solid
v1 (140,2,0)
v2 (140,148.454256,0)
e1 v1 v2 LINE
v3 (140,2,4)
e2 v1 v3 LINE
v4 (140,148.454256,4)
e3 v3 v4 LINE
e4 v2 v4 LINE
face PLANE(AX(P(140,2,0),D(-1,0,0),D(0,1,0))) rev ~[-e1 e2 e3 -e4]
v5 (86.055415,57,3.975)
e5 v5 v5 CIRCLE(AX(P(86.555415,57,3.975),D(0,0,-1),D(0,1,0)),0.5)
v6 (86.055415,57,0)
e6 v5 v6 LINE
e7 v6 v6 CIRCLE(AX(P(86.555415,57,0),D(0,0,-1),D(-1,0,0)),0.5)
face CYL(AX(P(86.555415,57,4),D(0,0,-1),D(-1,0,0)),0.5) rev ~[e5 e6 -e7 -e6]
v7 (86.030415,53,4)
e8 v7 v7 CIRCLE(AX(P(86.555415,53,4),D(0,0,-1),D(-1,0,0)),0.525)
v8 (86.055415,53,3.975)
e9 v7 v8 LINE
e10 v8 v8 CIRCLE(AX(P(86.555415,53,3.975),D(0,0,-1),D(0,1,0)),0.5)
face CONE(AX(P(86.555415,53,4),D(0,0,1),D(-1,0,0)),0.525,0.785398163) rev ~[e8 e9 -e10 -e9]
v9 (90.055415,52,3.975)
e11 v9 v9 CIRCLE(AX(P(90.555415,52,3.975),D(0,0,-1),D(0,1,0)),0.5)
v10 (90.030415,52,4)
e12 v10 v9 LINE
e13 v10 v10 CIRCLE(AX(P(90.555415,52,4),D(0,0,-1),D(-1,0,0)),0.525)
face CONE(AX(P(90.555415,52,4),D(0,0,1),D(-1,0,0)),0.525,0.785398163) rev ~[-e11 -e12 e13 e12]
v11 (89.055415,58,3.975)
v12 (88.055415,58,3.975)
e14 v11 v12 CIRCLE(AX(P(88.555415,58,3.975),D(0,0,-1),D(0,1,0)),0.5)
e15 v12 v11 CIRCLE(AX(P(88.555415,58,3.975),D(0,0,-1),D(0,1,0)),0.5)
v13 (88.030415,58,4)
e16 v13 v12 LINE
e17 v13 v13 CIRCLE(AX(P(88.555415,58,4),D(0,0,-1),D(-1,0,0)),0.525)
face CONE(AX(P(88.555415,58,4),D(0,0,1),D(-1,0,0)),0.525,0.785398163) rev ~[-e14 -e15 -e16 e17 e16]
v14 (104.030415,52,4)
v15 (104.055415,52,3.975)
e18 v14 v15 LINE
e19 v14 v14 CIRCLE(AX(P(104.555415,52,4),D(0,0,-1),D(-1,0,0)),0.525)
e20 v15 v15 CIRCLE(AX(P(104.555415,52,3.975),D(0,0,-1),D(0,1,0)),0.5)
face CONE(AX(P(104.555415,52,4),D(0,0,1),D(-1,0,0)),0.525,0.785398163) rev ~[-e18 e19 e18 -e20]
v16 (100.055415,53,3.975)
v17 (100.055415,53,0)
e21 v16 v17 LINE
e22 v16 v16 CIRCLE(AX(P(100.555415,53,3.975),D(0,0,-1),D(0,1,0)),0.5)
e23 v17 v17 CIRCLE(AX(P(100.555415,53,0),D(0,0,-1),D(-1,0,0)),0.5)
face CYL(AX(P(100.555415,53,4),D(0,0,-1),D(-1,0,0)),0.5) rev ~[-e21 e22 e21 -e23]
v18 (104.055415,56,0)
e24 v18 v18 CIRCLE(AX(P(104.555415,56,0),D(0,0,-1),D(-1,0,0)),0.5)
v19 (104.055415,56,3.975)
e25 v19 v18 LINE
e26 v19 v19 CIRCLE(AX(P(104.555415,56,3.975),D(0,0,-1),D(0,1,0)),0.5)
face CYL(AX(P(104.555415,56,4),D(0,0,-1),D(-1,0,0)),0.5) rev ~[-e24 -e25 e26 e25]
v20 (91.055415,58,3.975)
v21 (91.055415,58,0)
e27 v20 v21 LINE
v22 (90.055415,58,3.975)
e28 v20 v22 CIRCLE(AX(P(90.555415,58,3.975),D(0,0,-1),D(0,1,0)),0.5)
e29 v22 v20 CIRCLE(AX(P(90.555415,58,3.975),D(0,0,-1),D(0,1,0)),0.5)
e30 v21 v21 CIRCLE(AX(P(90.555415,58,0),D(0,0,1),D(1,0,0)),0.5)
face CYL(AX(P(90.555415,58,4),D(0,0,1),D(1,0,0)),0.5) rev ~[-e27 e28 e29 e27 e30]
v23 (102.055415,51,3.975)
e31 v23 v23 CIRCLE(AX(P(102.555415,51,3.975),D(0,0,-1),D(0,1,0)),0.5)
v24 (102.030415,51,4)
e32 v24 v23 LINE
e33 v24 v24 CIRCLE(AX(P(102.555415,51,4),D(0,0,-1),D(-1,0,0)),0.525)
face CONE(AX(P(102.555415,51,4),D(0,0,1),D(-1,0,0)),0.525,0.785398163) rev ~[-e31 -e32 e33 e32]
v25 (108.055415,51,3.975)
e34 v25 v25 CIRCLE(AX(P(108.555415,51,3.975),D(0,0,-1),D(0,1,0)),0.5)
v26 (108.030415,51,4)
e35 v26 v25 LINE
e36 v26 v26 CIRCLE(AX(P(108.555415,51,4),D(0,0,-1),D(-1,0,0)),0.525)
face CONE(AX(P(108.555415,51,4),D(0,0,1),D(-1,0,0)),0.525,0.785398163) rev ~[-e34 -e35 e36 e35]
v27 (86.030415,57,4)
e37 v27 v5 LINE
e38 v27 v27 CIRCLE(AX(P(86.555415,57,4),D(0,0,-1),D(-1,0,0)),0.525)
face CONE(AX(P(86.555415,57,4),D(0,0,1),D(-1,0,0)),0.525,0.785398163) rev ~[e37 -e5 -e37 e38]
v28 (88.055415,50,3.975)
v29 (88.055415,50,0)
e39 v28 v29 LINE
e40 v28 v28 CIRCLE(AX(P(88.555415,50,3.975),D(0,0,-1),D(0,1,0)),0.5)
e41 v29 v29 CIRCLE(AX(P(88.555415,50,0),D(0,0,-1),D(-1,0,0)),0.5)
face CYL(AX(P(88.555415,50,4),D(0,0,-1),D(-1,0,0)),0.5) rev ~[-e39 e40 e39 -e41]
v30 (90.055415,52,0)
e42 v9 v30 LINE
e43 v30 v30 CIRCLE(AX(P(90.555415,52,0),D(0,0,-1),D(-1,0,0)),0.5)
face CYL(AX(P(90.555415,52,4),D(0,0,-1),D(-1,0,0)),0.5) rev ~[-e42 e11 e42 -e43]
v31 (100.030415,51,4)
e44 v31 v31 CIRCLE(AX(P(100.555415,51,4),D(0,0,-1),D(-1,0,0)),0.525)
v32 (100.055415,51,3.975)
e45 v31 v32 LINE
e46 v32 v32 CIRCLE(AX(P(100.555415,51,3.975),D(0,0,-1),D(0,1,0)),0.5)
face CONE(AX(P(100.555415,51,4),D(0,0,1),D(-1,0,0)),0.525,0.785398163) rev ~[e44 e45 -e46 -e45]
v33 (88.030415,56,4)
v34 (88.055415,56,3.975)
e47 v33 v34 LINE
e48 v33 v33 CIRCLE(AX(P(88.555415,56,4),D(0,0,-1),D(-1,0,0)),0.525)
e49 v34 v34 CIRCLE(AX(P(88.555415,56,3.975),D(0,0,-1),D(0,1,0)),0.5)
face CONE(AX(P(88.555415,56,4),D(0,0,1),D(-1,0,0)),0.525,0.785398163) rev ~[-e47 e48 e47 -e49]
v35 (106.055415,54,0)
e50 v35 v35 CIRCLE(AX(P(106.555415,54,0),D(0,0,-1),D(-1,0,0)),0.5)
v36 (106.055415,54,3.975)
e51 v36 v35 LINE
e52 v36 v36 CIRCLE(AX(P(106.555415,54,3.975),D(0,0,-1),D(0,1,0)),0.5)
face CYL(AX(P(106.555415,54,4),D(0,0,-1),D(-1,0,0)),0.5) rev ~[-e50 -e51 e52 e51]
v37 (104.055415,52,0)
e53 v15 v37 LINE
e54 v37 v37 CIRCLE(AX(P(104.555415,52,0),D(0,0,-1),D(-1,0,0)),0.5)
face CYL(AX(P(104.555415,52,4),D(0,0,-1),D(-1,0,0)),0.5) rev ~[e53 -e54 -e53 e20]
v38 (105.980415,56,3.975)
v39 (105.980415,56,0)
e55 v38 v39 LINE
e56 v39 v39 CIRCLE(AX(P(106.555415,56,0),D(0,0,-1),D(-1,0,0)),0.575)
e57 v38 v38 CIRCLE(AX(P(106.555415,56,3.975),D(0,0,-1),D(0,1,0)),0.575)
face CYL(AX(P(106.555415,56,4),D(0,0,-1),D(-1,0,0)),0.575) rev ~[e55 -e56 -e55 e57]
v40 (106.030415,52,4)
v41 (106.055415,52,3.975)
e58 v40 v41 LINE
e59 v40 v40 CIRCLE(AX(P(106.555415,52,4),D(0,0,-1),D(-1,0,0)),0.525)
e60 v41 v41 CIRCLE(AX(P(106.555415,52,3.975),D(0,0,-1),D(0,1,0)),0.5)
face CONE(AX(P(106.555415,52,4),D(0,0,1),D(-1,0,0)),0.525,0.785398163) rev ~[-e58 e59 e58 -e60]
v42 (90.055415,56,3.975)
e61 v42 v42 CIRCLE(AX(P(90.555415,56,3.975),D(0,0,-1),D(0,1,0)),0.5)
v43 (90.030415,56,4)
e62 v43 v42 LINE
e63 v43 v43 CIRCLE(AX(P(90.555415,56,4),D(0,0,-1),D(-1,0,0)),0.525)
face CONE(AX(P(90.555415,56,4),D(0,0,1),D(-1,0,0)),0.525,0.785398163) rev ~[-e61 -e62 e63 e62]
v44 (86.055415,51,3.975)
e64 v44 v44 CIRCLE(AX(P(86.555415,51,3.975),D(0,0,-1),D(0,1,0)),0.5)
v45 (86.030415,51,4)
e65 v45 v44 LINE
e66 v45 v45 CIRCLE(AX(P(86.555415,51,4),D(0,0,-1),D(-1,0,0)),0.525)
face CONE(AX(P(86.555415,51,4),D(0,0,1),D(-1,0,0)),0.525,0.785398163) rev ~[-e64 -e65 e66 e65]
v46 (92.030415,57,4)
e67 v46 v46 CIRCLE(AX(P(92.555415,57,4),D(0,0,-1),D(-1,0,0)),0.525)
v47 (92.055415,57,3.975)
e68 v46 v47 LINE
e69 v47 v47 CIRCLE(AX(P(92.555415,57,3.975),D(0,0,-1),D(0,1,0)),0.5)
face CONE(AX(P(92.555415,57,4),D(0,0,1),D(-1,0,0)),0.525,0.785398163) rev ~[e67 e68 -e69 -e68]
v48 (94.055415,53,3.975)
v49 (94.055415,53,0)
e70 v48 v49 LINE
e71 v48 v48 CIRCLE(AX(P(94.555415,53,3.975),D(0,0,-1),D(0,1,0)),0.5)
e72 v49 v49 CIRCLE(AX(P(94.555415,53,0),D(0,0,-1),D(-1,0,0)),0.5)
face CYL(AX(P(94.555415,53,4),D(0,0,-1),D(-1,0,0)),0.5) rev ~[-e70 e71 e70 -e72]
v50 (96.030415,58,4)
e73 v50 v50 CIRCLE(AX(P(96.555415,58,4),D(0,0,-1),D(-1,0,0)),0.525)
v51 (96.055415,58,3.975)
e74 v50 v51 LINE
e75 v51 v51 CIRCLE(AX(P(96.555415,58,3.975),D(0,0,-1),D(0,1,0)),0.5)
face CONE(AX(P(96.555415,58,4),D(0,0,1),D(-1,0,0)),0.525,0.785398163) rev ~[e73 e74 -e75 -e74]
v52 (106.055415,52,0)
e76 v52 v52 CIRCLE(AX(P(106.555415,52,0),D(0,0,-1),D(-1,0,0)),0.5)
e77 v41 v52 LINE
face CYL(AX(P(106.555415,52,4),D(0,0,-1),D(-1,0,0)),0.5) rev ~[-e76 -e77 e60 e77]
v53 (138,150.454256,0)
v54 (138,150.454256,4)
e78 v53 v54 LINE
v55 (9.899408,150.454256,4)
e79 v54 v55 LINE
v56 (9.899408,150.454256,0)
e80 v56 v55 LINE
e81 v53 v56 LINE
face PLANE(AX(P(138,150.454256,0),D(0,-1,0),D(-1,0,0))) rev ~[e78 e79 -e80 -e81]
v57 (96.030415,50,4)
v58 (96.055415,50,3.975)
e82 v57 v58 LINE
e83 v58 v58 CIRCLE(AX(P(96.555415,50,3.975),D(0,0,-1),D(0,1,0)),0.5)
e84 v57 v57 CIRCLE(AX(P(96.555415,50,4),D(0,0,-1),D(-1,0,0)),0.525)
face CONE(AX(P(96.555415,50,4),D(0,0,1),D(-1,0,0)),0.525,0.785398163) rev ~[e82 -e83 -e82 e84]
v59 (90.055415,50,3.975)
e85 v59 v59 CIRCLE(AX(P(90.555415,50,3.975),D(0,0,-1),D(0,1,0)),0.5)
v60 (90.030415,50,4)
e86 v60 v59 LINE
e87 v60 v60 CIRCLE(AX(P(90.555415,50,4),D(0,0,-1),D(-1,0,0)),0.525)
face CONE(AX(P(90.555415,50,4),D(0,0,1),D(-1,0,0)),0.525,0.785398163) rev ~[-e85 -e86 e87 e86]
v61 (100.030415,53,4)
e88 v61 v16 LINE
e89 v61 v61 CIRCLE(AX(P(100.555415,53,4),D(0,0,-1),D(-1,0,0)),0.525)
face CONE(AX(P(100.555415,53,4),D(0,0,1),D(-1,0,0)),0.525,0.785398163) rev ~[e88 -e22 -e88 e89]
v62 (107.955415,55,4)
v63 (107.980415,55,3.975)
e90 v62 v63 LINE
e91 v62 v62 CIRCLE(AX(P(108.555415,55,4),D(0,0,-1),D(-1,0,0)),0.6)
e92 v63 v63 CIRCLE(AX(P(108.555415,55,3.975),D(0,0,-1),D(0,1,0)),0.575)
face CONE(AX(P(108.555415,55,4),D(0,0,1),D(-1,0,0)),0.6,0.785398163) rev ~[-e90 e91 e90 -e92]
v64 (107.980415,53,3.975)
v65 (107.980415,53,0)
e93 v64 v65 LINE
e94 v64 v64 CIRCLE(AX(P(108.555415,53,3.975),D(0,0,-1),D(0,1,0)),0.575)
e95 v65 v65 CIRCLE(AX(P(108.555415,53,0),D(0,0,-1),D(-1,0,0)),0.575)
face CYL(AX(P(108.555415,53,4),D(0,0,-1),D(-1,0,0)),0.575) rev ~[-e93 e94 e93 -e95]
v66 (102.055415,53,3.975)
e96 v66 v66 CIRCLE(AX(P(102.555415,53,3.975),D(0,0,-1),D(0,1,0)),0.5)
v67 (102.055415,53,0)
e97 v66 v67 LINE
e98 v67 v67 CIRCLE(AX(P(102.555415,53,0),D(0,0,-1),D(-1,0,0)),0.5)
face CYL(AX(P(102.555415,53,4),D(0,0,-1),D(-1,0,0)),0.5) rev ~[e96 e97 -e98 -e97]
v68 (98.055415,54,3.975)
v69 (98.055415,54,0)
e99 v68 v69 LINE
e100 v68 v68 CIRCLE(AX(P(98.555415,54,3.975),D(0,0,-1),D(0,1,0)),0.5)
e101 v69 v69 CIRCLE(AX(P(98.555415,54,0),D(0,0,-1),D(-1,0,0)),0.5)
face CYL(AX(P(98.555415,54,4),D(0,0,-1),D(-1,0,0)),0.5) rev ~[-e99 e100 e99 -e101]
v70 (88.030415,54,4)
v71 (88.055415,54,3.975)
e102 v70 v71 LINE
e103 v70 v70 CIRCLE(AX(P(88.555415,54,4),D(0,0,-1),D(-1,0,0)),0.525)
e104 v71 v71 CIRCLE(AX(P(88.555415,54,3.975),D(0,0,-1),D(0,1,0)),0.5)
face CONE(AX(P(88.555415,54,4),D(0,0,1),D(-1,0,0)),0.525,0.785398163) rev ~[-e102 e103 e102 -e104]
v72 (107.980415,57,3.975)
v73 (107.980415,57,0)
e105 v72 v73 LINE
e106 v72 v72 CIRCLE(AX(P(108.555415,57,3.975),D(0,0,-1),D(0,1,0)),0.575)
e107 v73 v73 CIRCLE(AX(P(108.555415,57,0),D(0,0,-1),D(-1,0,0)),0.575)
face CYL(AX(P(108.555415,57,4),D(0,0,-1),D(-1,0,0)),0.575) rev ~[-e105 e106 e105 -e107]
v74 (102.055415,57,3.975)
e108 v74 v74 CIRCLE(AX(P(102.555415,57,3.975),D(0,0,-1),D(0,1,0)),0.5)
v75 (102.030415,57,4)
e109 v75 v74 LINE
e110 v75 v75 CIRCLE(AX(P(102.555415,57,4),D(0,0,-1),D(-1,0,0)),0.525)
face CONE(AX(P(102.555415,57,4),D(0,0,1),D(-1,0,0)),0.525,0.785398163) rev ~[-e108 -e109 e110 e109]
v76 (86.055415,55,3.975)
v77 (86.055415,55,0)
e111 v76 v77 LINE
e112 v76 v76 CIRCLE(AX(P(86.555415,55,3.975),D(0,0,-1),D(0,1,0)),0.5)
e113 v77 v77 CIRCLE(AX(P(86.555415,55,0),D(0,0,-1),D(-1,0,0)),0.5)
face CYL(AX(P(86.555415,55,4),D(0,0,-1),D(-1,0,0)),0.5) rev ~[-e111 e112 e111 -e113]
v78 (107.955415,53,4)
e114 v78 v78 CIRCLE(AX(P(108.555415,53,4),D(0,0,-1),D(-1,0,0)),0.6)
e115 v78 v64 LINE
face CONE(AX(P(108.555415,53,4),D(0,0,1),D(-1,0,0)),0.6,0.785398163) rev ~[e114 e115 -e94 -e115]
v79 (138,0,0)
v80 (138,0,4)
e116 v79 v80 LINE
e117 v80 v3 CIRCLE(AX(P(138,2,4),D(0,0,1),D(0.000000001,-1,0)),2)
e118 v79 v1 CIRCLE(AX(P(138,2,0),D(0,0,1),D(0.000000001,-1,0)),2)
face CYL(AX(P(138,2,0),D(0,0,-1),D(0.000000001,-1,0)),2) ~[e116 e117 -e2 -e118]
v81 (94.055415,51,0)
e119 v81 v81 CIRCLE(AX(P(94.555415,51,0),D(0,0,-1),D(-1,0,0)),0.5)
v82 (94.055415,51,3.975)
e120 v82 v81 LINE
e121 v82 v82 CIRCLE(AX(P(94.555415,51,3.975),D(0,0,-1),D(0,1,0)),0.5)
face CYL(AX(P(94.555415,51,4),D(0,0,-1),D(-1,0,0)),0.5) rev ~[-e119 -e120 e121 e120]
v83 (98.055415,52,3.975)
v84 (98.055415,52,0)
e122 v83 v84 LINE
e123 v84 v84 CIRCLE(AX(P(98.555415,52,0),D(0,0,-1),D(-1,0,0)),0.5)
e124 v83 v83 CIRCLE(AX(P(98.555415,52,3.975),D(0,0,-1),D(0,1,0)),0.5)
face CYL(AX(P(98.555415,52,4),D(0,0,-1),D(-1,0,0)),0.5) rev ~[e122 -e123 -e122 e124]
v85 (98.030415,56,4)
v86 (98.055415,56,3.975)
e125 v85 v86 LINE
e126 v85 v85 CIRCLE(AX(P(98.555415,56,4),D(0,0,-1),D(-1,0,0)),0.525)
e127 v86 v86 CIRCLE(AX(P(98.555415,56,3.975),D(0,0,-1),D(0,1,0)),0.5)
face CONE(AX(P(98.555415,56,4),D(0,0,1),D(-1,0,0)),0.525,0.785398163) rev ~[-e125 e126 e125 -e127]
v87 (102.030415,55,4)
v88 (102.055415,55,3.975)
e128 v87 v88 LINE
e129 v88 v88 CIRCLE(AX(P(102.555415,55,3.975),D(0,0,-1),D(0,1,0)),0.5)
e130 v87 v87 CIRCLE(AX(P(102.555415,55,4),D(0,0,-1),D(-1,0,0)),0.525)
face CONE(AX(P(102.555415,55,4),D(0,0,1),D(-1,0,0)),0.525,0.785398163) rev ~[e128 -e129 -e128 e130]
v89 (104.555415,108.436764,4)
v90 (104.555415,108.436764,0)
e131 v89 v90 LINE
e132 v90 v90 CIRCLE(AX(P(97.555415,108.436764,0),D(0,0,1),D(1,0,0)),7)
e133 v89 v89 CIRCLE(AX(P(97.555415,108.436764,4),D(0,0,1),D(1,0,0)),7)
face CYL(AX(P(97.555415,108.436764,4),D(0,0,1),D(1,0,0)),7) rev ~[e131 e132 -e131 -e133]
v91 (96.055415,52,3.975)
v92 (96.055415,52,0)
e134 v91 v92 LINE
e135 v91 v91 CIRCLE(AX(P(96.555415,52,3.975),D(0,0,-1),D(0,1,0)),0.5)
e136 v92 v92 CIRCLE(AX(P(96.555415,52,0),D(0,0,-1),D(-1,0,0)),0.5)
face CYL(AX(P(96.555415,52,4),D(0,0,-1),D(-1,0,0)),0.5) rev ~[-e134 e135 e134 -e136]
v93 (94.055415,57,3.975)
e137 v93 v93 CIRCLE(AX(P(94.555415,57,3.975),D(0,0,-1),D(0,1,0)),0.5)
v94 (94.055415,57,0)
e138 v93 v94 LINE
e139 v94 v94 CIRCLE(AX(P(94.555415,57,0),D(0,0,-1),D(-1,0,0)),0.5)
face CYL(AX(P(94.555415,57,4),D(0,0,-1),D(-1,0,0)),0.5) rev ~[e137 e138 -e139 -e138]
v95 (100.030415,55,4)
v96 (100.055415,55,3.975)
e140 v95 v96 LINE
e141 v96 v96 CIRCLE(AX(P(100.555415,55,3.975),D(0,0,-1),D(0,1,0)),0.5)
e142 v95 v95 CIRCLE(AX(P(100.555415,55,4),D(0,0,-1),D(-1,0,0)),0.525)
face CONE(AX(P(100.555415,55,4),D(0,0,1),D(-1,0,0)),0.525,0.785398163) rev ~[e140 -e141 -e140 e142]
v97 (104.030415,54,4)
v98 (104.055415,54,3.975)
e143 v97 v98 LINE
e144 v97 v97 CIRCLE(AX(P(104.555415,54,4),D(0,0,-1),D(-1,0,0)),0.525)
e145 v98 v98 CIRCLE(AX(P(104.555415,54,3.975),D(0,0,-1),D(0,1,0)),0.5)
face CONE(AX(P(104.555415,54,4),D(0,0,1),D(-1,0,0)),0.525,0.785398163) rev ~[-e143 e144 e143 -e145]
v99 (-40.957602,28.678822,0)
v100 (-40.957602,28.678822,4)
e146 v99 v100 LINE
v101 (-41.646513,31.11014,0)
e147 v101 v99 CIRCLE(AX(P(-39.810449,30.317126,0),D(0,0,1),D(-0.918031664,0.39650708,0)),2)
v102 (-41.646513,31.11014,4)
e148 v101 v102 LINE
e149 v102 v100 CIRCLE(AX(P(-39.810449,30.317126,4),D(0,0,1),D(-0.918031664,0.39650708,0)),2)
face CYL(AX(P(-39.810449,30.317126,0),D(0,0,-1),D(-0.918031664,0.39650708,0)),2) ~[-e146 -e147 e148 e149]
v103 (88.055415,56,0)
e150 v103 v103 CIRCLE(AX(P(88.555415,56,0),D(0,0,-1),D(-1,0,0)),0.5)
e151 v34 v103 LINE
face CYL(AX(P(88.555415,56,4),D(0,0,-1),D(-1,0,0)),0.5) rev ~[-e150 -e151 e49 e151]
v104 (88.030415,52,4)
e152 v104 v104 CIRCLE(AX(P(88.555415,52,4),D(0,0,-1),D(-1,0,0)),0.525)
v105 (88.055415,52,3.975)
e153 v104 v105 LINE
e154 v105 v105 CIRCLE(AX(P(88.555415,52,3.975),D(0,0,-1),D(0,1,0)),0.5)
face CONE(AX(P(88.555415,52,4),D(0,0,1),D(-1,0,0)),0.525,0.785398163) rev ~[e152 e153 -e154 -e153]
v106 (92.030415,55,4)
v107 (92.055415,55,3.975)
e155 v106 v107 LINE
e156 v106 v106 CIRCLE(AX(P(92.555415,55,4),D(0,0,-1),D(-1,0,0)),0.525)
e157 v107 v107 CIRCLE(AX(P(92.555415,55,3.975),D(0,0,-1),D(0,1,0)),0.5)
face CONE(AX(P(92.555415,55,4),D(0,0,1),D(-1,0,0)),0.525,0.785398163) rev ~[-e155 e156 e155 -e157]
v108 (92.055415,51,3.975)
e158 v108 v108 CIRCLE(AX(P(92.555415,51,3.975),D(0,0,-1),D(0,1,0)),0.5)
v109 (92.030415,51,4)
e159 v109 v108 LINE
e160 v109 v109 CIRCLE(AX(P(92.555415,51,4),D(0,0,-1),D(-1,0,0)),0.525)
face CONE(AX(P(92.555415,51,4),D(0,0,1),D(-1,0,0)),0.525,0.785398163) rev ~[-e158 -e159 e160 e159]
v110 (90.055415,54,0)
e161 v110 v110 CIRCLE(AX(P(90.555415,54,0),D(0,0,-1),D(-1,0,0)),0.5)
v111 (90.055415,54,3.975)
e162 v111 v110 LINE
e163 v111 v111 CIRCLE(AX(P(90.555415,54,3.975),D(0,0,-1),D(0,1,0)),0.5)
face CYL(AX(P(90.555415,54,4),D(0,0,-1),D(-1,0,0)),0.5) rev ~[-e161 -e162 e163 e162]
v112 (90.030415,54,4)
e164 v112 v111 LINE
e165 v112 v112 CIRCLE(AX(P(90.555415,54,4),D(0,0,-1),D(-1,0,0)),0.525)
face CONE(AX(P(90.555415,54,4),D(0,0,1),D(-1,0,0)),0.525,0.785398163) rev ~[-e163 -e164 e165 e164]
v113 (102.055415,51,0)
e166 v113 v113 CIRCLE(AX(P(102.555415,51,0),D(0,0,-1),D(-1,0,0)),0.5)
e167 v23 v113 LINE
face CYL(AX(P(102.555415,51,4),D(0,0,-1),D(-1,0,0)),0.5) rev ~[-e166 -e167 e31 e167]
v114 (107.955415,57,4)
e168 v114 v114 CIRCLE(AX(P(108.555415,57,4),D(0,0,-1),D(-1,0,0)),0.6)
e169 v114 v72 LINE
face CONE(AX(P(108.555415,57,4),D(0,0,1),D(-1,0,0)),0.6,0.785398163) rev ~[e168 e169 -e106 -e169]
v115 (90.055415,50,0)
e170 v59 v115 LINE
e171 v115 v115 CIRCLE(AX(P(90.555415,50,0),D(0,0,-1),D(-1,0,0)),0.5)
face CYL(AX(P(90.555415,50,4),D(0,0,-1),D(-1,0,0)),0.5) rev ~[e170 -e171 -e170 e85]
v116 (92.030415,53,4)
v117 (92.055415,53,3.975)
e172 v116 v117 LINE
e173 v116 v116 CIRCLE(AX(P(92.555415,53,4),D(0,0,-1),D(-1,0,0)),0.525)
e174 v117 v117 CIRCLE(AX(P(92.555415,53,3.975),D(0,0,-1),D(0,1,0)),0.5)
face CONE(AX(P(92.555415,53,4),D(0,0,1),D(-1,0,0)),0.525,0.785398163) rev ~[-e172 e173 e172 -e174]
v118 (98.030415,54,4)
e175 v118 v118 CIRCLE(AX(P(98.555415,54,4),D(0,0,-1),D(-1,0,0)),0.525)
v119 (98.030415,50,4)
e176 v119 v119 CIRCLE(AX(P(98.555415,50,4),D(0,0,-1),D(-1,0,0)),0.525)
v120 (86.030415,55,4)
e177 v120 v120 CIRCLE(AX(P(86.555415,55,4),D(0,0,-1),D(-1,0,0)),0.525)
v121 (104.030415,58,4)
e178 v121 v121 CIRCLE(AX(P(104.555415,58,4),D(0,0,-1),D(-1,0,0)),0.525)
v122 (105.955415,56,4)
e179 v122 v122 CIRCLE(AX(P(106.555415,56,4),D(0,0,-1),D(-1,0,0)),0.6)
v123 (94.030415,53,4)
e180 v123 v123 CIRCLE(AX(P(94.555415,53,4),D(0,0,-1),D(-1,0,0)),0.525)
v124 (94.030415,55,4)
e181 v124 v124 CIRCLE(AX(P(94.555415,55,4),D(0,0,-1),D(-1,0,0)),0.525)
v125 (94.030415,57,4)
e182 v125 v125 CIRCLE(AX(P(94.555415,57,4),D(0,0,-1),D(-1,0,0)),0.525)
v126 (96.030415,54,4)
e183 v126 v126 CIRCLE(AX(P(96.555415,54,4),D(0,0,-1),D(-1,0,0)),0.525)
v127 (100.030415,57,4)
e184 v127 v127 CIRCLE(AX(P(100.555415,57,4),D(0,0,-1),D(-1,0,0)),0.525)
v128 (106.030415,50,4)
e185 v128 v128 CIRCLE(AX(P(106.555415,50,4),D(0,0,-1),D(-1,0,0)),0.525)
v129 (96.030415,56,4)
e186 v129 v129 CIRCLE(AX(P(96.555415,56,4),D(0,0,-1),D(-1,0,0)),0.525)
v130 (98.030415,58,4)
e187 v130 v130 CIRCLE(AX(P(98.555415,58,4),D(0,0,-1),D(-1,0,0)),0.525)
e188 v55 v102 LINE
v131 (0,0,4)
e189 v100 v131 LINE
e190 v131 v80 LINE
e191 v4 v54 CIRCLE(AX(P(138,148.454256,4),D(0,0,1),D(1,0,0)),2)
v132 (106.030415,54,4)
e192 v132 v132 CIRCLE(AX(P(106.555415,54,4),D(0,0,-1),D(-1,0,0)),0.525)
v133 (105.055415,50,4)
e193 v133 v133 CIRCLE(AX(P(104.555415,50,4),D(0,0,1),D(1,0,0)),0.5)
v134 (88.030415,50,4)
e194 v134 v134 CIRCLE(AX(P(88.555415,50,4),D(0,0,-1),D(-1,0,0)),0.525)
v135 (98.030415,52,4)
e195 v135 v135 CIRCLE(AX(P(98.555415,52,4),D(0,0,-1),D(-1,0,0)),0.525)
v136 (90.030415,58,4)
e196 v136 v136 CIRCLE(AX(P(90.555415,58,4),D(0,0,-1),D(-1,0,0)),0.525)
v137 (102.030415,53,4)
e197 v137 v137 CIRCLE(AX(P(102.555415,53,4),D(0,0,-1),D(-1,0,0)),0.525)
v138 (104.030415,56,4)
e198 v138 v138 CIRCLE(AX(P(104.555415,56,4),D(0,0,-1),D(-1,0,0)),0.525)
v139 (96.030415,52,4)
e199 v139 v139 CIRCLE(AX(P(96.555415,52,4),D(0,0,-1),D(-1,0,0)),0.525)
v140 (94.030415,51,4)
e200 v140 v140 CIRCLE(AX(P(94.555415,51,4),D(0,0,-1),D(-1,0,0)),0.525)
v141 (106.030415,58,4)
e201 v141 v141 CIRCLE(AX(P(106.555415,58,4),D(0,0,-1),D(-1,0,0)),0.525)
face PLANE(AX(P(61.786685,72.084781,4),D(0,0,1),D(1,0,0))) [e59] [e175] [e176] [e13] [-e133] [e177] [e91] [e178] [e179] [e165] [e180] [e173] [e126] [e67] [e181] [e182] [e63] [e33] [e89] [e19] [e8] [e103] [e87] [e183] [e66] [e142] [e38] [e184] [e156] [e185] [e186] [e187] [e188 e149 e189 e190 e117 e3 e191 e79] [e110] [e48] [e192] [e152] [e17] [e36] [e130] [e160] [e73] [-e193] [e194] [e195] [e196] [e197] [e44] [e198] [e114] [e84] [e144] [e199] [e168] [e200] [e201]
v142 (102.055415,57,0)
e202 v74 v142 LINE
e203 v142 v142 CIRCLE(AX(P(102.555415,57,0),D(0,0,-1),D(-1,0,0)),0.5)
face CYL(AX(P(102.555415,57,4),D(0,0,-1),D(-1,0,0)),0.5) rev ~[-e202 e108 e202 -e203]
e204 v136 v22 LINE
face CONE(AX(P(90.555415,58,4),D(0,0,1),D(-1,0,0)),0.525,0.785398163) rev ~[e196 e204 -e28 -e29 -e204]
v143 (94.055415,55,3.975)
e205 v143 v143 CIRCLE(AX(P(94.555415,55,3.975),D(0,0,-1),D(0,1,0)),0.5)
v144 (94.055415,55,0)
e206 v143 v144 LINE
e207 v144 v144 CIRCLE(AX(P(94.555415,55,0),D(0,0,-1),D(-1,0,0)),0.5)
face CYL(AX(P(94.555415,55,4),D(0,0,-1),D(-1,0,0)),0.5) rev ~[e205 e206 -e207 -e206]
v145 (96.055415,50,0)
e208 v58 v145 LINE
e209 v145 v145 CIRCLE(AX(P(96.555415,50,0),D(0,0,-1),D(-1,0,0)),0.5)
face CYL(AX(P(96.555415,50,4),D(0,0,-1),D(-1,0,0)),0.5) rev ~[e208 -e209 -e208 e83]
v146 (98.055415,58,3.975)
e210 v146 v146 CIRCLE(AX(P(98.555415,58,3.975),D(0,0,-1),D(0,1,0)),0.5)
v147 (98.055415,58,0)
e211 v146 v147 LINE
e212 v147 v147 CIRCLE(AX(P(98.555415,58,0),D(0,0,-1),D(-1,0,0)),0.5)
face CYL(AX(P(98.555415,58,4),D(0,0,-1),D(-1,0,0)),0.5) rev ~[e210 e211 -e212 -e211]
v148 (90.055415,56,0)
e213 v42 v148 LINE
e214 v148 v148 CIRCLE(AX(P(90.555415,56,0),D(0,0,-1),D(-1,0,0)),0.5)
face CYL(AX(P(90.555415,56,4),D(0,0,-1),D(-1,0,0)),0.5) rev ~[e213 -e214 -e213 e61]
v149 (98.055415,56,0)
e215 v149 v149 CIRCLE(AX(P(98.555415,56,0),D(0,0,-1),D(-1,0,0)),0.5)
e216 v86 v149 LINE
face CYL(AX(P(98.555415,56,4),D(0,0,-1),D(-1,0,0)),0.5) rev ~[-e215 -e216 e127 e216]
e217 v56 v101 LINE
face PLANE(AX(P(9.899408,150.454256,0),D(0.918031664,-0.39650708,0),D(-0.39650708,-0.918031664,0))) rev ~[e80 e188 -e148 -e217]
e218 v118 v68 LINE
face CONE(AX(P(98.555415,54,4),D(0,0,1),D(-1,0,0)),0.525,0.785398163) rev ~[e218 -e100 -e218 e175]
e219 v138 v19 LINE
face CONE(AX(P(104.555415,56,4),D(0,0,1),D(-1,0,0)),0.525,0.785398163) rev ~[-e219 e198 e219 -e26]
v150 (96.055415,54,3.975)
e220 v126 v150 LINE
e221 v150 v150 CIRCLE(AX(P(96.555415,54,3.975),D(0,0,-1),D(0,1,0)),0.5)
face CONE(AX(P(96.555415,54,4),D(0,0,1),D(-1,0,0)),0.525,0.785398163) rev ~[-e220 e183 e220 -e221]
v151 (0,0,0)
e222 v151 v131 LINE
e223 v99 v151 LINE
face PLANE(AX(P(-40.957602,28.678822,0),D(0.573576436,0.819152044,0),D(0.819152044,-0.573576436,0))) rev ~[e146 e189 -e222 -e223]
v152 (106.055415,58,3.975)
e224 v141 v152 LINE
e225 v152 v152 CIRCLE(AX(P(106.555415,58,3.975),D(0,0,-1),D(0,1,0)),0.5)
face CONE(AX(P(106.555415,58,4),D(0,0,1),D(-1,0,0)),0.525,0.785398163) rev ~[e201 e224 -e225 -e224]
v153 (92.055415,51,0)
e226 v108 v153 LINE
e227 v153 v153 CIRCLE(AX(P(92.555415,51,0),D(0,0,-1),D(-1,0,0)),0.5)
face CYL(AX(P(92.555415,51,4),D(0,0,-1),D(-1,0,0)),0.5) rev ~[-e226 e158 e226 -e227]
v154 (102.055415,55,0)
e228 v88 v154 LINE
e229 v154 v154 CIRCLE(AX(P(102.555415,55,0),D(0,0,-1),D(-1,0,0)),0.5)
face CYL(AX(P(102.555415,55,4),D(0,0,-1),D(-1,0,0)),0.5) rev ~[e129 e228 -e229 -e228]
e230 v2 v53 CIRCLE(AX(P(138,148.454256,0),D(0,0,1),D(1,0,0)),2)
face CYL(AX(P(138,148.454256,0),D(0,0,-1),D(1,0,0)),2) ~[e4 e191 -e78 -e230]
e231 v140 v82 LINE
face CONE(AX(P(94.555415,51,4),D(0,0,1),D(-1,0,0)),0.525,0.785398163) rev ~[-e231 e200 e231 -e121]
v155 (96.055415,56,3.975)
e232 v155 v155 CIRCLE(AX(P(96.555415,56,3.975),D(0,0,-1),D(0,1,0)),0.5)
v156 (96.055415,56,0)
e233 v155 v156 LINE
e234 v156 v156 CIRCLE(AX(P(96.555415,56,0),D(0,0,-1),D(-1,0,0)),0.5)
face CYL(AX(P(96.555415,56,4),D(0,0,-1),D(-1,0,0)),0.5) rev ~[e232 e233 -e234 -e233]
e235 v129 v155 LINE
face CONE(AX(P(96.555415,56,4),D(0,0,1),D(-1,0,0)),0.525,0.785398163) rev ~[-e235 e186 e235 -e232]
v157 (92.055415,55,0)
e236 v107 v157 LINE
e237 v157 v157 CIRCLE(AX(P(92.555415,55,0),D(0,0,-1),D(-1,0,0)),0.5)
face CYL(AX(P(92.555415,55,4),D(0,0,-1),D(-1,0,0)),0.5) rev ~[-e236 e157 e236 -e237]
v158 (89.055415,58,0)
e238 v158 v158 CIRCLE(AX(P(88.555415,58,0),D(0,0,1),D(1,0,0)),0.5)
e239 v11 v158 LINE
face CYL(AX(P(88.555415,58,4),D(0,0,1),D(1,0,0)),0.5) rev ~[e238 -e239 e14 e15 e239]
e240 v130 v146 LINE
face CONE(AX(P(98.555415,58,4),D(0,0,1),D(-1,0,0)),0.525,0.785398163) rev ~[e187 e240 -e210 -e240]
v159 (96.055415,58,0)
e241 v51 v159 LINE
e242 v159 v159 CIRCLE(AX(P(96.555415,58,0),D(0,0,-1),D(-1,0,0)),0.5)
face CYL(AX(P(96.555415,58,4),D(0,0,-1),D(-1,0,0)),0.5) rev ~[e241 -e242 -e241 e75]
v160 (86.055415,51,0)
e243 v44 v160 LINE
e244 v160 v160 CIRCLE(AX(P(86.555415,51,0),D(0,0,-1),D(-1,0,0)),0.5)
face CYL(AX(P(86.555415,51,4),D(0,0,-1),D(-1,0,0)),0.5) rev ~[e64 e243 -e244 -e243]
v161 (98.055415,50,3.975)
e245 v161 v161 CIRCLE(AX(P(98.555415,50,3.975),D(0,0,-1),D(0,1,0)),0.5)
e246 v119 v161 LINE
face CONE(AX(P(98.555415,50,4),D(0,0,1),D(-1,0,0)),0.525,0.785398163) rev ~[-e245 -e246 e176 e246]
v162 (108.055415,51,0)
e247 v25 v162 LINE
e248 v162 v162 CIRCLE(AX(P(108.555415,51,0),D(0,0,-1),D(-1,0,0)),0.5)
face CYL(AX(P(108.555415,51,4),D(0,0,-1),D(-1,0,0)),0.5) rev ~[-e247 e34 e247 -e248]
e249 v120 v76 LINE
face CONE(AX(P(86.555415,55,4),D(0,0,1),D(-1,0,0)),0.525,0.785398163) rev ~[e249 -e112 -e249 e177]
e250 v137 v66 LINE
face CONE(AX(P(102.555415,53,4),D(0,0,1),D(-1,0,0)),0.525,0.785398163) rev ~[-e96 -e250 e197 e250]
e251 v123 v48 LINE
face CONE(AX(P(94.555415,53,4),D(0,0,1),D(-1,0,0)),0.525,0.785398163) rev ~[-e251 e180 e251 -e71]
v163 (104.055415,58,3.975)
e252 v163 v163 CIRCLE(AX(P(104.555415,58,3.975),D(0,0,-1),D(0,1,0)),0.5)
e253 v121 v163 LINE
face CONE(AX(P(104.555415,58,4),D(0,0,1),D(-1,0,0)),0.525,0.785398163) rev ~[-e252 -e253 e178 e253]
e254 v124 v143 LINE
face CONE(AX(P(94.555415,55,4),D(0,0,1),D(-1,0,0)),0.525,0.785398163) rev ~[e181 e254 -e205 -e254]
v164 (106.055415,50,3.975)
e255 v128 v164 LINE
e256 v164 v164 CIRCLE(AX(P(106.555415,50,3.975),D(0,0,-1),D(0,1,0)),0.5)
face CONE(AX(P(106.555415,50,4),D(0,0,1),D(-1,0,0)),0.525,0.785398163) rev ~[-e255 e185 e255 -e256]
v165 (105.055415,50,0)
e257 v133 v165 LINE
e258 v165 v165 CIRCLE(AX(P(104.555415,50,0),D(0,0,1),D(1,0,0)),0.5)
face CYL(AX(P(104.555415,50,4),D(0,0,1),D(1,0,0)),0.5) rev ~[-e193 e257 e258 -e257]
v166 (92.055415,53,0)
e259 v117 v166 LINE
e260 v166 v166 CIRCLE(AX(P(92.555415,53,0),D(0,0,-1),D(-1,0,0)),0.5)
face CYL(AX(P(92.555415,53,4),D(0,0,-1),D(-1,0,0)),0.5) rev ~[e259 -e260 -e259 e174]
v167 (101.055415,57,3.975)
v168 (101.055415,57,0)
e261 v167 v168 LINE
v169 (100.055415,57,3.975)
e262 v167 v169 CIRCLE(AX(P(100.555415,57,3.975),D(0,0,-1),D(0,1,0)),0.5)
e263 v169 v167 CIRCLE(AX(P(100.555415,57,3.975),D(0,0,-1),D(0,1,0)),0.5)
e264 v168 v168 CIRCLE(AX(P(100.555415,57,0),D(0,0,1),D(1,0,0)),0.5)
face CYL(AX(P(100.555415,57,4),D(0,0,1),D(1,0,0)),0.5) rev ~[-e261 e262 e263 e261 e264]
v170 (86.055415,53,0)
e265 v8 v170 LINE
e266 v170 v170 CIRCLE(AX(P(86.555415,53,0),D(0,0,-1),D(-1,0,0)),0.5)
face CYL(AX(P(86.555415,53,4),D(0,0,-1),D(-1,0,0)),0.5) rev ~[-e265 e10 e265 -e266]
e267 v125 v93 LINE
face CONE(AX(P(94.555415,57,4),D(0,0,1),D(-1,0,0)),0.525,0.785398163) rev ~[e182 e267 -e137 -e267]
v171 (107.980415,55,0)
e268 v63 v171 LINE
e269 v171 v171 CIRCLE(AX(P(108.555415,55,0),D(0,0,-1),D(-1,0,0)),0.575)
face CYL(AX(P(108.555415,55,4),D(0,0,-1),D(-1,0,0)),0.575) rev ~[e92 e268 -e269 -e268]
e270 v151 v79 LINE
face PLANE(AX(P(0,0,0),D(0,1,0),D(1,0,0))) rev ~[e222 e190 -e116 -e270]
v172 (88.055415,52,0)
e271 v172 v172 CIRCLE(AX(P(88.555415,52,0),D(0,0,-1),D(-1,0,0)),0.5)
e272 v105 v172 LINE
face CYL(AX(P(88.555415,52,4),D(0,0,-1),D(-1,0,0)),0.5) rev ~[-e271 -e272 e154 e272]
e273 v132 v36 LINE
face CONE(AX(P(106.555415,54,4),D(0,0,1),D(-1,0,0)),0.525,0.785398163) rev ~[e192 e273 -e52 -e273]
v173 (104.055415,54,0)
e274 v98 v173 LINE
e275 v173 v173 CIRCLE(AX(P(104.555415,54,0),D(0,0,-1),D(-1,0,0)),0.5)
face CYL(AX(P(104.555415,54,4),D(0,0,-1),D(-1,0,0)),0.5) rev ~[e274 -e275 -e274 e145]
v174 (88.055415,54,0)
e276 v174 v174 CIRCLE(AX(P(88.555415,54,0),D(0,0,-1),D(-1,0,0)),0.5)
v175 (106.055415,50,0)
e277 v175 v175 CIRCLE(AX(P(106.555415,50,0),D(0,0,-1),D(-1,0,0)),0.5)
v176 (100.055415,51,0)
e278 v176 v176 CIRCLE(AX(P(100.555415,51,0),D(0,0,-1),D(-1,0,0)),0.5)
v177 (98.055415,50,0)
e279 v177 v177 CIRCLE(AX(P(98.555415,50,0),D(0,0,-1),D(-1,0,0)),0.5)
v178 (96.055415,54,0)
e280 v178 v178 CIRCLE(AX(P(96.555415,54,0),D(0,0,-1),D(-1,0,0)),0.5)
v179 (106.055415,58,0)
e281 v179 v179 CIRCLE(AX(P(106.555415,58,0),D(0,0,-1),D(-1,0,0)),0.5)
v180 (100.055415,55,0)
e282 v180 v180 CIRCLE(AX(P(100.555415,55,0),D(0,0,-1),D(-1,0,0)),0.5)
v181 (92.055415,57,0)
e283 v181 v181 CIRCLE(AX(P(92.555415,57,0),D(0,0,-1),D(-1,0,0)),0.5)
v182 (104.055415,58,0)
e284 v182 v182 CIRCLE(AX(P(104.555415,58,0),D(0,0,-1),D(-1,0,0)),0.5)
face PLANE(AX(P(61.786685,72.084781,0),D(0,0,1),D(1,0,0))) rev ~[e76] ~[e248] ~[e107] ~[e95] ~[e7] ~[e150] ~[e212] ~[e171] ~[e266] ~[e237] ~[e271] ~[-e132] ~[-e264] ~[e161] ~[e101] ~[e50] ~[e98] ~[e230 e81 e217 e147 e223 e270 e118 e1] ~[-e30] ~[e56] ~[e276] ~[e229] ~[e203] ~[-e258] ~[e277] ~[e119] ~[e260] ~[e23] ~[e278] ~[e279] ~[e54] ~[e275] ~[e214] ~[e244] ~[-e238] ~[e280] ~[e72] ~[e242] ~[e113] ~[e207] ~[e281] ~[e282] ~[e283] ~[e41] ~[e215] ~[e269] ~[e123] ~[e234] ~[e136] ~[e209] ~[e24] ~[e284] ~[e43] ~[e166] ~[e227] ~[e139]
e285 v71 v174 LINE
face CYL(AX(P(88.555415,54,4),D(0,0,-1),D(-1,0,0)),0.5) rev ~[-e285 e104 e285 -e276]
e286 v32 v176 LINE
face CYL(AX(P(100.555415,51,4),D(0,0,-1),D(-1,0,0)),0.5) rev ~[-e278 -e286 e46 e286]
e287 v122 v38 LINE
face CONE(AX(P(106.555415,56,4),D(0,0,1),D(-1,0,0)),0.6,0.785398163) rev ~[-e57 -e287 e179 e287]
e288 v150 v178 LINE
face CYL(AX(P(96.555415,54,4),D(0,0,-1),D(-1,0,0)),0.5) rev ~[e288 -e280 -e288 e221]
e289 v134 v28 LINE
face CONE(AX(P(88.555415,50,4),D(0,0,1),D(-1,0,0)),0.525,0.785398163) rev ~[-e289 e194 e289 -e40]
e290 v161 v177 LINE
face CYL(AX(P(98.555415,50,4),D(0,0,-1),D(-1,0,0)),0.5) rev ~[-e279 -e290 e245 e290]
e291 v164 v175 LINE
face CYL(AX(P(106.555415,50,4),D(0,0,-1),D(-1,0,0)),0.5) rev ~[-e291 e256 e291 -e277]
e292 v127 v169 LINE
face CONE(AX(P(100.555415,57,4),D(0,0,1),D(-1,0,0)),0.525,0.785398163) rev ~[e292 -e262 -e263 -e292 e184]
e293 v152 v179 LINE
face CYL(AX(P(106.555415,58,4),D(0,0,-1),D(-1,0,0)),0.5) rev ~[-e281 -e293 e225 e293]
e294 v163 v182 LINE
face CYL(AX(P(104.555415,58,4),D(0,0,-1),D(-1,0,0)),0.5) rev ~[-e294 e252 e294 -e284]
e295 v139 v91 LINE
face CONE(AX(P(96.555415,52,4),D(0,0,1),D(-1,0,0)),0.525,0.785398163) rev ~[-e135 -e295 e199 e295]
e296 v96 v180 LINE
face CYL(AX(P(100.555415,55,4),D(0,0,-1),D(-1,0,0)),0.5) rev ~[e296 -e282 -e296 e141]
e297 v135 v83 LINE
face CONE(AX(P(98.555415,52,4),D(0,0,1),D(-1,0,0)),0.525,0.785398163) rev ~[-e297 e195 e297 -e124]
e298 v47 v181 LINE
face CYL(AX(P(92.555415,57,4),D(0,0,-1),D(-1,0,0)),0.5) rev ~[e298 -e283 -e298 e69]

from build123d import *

# Parameters (mm, degrees)
RESSALTO_EXTRUS_O1_DEPTH                 = 4
ESBO_O2_R                                = 0.5
CORTE_EXTRUS_O1_DEPTH                    = 206.554088373
ESBO_O2_7_R                              = 0.5
CORTE_EXTRUS_O2_DEPTH                    = 206.554088373
ESBO_O2_9_R                              = 7
CORTE_EXTRUS_O3_DEPTH                    = 206.554088373
ESBO_O2_10_R                             = 0.5
CORTE_EXTRUS_O4_DEPTH                    = 206.554088373
ESBO_O2_11_R                             = 0.5
CORTE_EXTRUS_O5_DEPTH                    = 206.554088373
FURO_DE_DI_METRO_1_15_1_15_1_D           = 1.15
FURO_DE_DI_METRO_1_15_1_15_1_CSINK_D     = 1.2
FURO_DE_DI_METRO_1_15_1_15_1_CSINK_ANGLE = 90
FURO_DE_DI_METRO_1_0_1_1_D               = 1
FURO_DE_DI_METRO_1_0_1_1_CSINK_D         = 1.05
FURO_DE_DI_METRO_1_0_1_1_CSINK_ANGLE     = 90


with BuildPart() as part:
    # Esboço1 → Ressalto-extrusão1 (new body)
    with BuildSketch(Plane.XY):
        with BuildLine():
            Line((0, 0), (138, 0))
            ThreePointArc((138, 0), (139.414213562, 0.585786438), (140, 2))
            Line((140, 2), (140, 148.454256327))
            ThreePointArc((140, 148.454256327), (139.414213562, 149.86846989), (138, 150.454256327))
            Line((138, 150.454256327), (9.899407771, 150.454256327))
            Line((9.899407771, 150.454256327), (-41.646512669, 31.110140067))
            ThreePointArc((-41.646512669, 31.110140067), (-41.734695124, 29.77189369), (-40.957602214, 28.678821818))
            Line((-40.957602214, 28.678821818), (0, 0))
        make_face()
    extrude(amount=RESSALTO_EXTRUS_O1_DEPTH)

    # Esboço2 → Corte-extrusão1 (cut, through all)
    with BuildSketch(Plane.XY.offset(4)):
        with Locations((104.555415111, 50)):
            Circle(ESBO_O2_R)
    extrude(amount=-CORTE_EXTRUS_O1_DEPTH, mode=Mode.SUBTRACT)

    # Esboço2<7> → Corte-extrusão2 (cut, through all)
    with BuildSketch(Plane.XY.offset(4)):
        with Locations((100.555415111, 57)):
            Circle(ESBO_O2_7_R)
    extrude(amount=-CORTE_EXTRUS_O2_DEPTH, mode=Mode.SUBTRACT)

    # Esboço2<9> → Corte-extrusão3 (cut, through all)
    with BuildSketch(Plane.XY.offset(4)):
        with Locations((97.555415111, 108.436764235)):
            Circle(ESBO_O2_9_R)
    extrude(amount=-CORTE_EXTRUS_O3_DEPTH, mode=Mode.SUBTRACT)

    # Esboço2<10> → Corte-extrusão4 (cut, through all)
    with BuildSketch(Plane.XY.offset(4)):
        with Locations((88.555415111, 58)):
            Circle(ESBO_O2_10_R)
    extrude(amount=-CORTE_EXTRUS_O4_DEPTH, mode=Mode.SUBTRACT)

    # Esboço2<11> → Corte-extrusão5 (cut, through all)
    with BuildSketch(Plane.XY.offset(4)):
        with Locations((90.555415111, 58)):
            Circle(ESBO_O2_11_R)
    extrude(amount=-CORTE_EXTRUS_O5_DEPTH, mode=Mode.SUBTRACT)

    # Furo de diâmetro Ø1.15 (1.15)1 (through all)
    with Locations(Plane(origin=(106.555415111, 56, 4), x_dir=(1, 0, 0), z_dir=(0, 0, 1))):
        with Locations((0, 0), (2, 1), (2, -1), (2, -3)):
            CounterSinkHole(FURO_DE_DI_METRO_1_15_1_15_1_D / 2, FURO_DE_DI_METRO_1_15_1_15_1_CSINK_D / 2, counter_sink_angle=FURO_DE_DI_METRO_1_15_1_15_1_CSINK_ANGLE)

    # Furo de diâmetro Ø1.0 (1)1 (through all)
    with Locations(Plane(origin=(106.555415111, 58, 4), x_dir=(1, 0, 0), z_dir=(0, 0, 1))):
        with Locations((0, 0), (-2, 0), (-4, -1), (-6, -1), (-4, -3), (-2, -2), (-2, -4), (0, -4), (0, -6), (2, -7), (0, -8), (-2, -6), (-14, -1), (-14, -3), (-14, -5), (-14, -7), (-12, -7), (-10, -8), (-8, -8), (-6, -7), (-4, -7), (-4, -5), (-6, -5), (-6, -3), (-8, -2), (-8, 0), (-10, 0), (-10, -2), (-10, -4), (-8, -4), (-10, -6), (-8, -6), (-12, -5), (-12, -3), (-12, -1), (-18, 0), (-16, 0), (-20, -1), (-18, -2), (-16, -2), (-16, -4), (-16, -6), (-16, -8), (-18, -8), (-18, -6), (-18, -4), (-20, -3), (-20, -5), (-20, -7)):
            CounterSinkHole(FURO_DE_DI_METRO_1_0_1_1_D / 2, FURO_DE_DI_METRO_1_0_1_1_CSINK_D / 2, counter_sink_angle=FURO_DE_DI_METRO_1_0_1_1_CSINK_ANGLE)


solid = part.part
